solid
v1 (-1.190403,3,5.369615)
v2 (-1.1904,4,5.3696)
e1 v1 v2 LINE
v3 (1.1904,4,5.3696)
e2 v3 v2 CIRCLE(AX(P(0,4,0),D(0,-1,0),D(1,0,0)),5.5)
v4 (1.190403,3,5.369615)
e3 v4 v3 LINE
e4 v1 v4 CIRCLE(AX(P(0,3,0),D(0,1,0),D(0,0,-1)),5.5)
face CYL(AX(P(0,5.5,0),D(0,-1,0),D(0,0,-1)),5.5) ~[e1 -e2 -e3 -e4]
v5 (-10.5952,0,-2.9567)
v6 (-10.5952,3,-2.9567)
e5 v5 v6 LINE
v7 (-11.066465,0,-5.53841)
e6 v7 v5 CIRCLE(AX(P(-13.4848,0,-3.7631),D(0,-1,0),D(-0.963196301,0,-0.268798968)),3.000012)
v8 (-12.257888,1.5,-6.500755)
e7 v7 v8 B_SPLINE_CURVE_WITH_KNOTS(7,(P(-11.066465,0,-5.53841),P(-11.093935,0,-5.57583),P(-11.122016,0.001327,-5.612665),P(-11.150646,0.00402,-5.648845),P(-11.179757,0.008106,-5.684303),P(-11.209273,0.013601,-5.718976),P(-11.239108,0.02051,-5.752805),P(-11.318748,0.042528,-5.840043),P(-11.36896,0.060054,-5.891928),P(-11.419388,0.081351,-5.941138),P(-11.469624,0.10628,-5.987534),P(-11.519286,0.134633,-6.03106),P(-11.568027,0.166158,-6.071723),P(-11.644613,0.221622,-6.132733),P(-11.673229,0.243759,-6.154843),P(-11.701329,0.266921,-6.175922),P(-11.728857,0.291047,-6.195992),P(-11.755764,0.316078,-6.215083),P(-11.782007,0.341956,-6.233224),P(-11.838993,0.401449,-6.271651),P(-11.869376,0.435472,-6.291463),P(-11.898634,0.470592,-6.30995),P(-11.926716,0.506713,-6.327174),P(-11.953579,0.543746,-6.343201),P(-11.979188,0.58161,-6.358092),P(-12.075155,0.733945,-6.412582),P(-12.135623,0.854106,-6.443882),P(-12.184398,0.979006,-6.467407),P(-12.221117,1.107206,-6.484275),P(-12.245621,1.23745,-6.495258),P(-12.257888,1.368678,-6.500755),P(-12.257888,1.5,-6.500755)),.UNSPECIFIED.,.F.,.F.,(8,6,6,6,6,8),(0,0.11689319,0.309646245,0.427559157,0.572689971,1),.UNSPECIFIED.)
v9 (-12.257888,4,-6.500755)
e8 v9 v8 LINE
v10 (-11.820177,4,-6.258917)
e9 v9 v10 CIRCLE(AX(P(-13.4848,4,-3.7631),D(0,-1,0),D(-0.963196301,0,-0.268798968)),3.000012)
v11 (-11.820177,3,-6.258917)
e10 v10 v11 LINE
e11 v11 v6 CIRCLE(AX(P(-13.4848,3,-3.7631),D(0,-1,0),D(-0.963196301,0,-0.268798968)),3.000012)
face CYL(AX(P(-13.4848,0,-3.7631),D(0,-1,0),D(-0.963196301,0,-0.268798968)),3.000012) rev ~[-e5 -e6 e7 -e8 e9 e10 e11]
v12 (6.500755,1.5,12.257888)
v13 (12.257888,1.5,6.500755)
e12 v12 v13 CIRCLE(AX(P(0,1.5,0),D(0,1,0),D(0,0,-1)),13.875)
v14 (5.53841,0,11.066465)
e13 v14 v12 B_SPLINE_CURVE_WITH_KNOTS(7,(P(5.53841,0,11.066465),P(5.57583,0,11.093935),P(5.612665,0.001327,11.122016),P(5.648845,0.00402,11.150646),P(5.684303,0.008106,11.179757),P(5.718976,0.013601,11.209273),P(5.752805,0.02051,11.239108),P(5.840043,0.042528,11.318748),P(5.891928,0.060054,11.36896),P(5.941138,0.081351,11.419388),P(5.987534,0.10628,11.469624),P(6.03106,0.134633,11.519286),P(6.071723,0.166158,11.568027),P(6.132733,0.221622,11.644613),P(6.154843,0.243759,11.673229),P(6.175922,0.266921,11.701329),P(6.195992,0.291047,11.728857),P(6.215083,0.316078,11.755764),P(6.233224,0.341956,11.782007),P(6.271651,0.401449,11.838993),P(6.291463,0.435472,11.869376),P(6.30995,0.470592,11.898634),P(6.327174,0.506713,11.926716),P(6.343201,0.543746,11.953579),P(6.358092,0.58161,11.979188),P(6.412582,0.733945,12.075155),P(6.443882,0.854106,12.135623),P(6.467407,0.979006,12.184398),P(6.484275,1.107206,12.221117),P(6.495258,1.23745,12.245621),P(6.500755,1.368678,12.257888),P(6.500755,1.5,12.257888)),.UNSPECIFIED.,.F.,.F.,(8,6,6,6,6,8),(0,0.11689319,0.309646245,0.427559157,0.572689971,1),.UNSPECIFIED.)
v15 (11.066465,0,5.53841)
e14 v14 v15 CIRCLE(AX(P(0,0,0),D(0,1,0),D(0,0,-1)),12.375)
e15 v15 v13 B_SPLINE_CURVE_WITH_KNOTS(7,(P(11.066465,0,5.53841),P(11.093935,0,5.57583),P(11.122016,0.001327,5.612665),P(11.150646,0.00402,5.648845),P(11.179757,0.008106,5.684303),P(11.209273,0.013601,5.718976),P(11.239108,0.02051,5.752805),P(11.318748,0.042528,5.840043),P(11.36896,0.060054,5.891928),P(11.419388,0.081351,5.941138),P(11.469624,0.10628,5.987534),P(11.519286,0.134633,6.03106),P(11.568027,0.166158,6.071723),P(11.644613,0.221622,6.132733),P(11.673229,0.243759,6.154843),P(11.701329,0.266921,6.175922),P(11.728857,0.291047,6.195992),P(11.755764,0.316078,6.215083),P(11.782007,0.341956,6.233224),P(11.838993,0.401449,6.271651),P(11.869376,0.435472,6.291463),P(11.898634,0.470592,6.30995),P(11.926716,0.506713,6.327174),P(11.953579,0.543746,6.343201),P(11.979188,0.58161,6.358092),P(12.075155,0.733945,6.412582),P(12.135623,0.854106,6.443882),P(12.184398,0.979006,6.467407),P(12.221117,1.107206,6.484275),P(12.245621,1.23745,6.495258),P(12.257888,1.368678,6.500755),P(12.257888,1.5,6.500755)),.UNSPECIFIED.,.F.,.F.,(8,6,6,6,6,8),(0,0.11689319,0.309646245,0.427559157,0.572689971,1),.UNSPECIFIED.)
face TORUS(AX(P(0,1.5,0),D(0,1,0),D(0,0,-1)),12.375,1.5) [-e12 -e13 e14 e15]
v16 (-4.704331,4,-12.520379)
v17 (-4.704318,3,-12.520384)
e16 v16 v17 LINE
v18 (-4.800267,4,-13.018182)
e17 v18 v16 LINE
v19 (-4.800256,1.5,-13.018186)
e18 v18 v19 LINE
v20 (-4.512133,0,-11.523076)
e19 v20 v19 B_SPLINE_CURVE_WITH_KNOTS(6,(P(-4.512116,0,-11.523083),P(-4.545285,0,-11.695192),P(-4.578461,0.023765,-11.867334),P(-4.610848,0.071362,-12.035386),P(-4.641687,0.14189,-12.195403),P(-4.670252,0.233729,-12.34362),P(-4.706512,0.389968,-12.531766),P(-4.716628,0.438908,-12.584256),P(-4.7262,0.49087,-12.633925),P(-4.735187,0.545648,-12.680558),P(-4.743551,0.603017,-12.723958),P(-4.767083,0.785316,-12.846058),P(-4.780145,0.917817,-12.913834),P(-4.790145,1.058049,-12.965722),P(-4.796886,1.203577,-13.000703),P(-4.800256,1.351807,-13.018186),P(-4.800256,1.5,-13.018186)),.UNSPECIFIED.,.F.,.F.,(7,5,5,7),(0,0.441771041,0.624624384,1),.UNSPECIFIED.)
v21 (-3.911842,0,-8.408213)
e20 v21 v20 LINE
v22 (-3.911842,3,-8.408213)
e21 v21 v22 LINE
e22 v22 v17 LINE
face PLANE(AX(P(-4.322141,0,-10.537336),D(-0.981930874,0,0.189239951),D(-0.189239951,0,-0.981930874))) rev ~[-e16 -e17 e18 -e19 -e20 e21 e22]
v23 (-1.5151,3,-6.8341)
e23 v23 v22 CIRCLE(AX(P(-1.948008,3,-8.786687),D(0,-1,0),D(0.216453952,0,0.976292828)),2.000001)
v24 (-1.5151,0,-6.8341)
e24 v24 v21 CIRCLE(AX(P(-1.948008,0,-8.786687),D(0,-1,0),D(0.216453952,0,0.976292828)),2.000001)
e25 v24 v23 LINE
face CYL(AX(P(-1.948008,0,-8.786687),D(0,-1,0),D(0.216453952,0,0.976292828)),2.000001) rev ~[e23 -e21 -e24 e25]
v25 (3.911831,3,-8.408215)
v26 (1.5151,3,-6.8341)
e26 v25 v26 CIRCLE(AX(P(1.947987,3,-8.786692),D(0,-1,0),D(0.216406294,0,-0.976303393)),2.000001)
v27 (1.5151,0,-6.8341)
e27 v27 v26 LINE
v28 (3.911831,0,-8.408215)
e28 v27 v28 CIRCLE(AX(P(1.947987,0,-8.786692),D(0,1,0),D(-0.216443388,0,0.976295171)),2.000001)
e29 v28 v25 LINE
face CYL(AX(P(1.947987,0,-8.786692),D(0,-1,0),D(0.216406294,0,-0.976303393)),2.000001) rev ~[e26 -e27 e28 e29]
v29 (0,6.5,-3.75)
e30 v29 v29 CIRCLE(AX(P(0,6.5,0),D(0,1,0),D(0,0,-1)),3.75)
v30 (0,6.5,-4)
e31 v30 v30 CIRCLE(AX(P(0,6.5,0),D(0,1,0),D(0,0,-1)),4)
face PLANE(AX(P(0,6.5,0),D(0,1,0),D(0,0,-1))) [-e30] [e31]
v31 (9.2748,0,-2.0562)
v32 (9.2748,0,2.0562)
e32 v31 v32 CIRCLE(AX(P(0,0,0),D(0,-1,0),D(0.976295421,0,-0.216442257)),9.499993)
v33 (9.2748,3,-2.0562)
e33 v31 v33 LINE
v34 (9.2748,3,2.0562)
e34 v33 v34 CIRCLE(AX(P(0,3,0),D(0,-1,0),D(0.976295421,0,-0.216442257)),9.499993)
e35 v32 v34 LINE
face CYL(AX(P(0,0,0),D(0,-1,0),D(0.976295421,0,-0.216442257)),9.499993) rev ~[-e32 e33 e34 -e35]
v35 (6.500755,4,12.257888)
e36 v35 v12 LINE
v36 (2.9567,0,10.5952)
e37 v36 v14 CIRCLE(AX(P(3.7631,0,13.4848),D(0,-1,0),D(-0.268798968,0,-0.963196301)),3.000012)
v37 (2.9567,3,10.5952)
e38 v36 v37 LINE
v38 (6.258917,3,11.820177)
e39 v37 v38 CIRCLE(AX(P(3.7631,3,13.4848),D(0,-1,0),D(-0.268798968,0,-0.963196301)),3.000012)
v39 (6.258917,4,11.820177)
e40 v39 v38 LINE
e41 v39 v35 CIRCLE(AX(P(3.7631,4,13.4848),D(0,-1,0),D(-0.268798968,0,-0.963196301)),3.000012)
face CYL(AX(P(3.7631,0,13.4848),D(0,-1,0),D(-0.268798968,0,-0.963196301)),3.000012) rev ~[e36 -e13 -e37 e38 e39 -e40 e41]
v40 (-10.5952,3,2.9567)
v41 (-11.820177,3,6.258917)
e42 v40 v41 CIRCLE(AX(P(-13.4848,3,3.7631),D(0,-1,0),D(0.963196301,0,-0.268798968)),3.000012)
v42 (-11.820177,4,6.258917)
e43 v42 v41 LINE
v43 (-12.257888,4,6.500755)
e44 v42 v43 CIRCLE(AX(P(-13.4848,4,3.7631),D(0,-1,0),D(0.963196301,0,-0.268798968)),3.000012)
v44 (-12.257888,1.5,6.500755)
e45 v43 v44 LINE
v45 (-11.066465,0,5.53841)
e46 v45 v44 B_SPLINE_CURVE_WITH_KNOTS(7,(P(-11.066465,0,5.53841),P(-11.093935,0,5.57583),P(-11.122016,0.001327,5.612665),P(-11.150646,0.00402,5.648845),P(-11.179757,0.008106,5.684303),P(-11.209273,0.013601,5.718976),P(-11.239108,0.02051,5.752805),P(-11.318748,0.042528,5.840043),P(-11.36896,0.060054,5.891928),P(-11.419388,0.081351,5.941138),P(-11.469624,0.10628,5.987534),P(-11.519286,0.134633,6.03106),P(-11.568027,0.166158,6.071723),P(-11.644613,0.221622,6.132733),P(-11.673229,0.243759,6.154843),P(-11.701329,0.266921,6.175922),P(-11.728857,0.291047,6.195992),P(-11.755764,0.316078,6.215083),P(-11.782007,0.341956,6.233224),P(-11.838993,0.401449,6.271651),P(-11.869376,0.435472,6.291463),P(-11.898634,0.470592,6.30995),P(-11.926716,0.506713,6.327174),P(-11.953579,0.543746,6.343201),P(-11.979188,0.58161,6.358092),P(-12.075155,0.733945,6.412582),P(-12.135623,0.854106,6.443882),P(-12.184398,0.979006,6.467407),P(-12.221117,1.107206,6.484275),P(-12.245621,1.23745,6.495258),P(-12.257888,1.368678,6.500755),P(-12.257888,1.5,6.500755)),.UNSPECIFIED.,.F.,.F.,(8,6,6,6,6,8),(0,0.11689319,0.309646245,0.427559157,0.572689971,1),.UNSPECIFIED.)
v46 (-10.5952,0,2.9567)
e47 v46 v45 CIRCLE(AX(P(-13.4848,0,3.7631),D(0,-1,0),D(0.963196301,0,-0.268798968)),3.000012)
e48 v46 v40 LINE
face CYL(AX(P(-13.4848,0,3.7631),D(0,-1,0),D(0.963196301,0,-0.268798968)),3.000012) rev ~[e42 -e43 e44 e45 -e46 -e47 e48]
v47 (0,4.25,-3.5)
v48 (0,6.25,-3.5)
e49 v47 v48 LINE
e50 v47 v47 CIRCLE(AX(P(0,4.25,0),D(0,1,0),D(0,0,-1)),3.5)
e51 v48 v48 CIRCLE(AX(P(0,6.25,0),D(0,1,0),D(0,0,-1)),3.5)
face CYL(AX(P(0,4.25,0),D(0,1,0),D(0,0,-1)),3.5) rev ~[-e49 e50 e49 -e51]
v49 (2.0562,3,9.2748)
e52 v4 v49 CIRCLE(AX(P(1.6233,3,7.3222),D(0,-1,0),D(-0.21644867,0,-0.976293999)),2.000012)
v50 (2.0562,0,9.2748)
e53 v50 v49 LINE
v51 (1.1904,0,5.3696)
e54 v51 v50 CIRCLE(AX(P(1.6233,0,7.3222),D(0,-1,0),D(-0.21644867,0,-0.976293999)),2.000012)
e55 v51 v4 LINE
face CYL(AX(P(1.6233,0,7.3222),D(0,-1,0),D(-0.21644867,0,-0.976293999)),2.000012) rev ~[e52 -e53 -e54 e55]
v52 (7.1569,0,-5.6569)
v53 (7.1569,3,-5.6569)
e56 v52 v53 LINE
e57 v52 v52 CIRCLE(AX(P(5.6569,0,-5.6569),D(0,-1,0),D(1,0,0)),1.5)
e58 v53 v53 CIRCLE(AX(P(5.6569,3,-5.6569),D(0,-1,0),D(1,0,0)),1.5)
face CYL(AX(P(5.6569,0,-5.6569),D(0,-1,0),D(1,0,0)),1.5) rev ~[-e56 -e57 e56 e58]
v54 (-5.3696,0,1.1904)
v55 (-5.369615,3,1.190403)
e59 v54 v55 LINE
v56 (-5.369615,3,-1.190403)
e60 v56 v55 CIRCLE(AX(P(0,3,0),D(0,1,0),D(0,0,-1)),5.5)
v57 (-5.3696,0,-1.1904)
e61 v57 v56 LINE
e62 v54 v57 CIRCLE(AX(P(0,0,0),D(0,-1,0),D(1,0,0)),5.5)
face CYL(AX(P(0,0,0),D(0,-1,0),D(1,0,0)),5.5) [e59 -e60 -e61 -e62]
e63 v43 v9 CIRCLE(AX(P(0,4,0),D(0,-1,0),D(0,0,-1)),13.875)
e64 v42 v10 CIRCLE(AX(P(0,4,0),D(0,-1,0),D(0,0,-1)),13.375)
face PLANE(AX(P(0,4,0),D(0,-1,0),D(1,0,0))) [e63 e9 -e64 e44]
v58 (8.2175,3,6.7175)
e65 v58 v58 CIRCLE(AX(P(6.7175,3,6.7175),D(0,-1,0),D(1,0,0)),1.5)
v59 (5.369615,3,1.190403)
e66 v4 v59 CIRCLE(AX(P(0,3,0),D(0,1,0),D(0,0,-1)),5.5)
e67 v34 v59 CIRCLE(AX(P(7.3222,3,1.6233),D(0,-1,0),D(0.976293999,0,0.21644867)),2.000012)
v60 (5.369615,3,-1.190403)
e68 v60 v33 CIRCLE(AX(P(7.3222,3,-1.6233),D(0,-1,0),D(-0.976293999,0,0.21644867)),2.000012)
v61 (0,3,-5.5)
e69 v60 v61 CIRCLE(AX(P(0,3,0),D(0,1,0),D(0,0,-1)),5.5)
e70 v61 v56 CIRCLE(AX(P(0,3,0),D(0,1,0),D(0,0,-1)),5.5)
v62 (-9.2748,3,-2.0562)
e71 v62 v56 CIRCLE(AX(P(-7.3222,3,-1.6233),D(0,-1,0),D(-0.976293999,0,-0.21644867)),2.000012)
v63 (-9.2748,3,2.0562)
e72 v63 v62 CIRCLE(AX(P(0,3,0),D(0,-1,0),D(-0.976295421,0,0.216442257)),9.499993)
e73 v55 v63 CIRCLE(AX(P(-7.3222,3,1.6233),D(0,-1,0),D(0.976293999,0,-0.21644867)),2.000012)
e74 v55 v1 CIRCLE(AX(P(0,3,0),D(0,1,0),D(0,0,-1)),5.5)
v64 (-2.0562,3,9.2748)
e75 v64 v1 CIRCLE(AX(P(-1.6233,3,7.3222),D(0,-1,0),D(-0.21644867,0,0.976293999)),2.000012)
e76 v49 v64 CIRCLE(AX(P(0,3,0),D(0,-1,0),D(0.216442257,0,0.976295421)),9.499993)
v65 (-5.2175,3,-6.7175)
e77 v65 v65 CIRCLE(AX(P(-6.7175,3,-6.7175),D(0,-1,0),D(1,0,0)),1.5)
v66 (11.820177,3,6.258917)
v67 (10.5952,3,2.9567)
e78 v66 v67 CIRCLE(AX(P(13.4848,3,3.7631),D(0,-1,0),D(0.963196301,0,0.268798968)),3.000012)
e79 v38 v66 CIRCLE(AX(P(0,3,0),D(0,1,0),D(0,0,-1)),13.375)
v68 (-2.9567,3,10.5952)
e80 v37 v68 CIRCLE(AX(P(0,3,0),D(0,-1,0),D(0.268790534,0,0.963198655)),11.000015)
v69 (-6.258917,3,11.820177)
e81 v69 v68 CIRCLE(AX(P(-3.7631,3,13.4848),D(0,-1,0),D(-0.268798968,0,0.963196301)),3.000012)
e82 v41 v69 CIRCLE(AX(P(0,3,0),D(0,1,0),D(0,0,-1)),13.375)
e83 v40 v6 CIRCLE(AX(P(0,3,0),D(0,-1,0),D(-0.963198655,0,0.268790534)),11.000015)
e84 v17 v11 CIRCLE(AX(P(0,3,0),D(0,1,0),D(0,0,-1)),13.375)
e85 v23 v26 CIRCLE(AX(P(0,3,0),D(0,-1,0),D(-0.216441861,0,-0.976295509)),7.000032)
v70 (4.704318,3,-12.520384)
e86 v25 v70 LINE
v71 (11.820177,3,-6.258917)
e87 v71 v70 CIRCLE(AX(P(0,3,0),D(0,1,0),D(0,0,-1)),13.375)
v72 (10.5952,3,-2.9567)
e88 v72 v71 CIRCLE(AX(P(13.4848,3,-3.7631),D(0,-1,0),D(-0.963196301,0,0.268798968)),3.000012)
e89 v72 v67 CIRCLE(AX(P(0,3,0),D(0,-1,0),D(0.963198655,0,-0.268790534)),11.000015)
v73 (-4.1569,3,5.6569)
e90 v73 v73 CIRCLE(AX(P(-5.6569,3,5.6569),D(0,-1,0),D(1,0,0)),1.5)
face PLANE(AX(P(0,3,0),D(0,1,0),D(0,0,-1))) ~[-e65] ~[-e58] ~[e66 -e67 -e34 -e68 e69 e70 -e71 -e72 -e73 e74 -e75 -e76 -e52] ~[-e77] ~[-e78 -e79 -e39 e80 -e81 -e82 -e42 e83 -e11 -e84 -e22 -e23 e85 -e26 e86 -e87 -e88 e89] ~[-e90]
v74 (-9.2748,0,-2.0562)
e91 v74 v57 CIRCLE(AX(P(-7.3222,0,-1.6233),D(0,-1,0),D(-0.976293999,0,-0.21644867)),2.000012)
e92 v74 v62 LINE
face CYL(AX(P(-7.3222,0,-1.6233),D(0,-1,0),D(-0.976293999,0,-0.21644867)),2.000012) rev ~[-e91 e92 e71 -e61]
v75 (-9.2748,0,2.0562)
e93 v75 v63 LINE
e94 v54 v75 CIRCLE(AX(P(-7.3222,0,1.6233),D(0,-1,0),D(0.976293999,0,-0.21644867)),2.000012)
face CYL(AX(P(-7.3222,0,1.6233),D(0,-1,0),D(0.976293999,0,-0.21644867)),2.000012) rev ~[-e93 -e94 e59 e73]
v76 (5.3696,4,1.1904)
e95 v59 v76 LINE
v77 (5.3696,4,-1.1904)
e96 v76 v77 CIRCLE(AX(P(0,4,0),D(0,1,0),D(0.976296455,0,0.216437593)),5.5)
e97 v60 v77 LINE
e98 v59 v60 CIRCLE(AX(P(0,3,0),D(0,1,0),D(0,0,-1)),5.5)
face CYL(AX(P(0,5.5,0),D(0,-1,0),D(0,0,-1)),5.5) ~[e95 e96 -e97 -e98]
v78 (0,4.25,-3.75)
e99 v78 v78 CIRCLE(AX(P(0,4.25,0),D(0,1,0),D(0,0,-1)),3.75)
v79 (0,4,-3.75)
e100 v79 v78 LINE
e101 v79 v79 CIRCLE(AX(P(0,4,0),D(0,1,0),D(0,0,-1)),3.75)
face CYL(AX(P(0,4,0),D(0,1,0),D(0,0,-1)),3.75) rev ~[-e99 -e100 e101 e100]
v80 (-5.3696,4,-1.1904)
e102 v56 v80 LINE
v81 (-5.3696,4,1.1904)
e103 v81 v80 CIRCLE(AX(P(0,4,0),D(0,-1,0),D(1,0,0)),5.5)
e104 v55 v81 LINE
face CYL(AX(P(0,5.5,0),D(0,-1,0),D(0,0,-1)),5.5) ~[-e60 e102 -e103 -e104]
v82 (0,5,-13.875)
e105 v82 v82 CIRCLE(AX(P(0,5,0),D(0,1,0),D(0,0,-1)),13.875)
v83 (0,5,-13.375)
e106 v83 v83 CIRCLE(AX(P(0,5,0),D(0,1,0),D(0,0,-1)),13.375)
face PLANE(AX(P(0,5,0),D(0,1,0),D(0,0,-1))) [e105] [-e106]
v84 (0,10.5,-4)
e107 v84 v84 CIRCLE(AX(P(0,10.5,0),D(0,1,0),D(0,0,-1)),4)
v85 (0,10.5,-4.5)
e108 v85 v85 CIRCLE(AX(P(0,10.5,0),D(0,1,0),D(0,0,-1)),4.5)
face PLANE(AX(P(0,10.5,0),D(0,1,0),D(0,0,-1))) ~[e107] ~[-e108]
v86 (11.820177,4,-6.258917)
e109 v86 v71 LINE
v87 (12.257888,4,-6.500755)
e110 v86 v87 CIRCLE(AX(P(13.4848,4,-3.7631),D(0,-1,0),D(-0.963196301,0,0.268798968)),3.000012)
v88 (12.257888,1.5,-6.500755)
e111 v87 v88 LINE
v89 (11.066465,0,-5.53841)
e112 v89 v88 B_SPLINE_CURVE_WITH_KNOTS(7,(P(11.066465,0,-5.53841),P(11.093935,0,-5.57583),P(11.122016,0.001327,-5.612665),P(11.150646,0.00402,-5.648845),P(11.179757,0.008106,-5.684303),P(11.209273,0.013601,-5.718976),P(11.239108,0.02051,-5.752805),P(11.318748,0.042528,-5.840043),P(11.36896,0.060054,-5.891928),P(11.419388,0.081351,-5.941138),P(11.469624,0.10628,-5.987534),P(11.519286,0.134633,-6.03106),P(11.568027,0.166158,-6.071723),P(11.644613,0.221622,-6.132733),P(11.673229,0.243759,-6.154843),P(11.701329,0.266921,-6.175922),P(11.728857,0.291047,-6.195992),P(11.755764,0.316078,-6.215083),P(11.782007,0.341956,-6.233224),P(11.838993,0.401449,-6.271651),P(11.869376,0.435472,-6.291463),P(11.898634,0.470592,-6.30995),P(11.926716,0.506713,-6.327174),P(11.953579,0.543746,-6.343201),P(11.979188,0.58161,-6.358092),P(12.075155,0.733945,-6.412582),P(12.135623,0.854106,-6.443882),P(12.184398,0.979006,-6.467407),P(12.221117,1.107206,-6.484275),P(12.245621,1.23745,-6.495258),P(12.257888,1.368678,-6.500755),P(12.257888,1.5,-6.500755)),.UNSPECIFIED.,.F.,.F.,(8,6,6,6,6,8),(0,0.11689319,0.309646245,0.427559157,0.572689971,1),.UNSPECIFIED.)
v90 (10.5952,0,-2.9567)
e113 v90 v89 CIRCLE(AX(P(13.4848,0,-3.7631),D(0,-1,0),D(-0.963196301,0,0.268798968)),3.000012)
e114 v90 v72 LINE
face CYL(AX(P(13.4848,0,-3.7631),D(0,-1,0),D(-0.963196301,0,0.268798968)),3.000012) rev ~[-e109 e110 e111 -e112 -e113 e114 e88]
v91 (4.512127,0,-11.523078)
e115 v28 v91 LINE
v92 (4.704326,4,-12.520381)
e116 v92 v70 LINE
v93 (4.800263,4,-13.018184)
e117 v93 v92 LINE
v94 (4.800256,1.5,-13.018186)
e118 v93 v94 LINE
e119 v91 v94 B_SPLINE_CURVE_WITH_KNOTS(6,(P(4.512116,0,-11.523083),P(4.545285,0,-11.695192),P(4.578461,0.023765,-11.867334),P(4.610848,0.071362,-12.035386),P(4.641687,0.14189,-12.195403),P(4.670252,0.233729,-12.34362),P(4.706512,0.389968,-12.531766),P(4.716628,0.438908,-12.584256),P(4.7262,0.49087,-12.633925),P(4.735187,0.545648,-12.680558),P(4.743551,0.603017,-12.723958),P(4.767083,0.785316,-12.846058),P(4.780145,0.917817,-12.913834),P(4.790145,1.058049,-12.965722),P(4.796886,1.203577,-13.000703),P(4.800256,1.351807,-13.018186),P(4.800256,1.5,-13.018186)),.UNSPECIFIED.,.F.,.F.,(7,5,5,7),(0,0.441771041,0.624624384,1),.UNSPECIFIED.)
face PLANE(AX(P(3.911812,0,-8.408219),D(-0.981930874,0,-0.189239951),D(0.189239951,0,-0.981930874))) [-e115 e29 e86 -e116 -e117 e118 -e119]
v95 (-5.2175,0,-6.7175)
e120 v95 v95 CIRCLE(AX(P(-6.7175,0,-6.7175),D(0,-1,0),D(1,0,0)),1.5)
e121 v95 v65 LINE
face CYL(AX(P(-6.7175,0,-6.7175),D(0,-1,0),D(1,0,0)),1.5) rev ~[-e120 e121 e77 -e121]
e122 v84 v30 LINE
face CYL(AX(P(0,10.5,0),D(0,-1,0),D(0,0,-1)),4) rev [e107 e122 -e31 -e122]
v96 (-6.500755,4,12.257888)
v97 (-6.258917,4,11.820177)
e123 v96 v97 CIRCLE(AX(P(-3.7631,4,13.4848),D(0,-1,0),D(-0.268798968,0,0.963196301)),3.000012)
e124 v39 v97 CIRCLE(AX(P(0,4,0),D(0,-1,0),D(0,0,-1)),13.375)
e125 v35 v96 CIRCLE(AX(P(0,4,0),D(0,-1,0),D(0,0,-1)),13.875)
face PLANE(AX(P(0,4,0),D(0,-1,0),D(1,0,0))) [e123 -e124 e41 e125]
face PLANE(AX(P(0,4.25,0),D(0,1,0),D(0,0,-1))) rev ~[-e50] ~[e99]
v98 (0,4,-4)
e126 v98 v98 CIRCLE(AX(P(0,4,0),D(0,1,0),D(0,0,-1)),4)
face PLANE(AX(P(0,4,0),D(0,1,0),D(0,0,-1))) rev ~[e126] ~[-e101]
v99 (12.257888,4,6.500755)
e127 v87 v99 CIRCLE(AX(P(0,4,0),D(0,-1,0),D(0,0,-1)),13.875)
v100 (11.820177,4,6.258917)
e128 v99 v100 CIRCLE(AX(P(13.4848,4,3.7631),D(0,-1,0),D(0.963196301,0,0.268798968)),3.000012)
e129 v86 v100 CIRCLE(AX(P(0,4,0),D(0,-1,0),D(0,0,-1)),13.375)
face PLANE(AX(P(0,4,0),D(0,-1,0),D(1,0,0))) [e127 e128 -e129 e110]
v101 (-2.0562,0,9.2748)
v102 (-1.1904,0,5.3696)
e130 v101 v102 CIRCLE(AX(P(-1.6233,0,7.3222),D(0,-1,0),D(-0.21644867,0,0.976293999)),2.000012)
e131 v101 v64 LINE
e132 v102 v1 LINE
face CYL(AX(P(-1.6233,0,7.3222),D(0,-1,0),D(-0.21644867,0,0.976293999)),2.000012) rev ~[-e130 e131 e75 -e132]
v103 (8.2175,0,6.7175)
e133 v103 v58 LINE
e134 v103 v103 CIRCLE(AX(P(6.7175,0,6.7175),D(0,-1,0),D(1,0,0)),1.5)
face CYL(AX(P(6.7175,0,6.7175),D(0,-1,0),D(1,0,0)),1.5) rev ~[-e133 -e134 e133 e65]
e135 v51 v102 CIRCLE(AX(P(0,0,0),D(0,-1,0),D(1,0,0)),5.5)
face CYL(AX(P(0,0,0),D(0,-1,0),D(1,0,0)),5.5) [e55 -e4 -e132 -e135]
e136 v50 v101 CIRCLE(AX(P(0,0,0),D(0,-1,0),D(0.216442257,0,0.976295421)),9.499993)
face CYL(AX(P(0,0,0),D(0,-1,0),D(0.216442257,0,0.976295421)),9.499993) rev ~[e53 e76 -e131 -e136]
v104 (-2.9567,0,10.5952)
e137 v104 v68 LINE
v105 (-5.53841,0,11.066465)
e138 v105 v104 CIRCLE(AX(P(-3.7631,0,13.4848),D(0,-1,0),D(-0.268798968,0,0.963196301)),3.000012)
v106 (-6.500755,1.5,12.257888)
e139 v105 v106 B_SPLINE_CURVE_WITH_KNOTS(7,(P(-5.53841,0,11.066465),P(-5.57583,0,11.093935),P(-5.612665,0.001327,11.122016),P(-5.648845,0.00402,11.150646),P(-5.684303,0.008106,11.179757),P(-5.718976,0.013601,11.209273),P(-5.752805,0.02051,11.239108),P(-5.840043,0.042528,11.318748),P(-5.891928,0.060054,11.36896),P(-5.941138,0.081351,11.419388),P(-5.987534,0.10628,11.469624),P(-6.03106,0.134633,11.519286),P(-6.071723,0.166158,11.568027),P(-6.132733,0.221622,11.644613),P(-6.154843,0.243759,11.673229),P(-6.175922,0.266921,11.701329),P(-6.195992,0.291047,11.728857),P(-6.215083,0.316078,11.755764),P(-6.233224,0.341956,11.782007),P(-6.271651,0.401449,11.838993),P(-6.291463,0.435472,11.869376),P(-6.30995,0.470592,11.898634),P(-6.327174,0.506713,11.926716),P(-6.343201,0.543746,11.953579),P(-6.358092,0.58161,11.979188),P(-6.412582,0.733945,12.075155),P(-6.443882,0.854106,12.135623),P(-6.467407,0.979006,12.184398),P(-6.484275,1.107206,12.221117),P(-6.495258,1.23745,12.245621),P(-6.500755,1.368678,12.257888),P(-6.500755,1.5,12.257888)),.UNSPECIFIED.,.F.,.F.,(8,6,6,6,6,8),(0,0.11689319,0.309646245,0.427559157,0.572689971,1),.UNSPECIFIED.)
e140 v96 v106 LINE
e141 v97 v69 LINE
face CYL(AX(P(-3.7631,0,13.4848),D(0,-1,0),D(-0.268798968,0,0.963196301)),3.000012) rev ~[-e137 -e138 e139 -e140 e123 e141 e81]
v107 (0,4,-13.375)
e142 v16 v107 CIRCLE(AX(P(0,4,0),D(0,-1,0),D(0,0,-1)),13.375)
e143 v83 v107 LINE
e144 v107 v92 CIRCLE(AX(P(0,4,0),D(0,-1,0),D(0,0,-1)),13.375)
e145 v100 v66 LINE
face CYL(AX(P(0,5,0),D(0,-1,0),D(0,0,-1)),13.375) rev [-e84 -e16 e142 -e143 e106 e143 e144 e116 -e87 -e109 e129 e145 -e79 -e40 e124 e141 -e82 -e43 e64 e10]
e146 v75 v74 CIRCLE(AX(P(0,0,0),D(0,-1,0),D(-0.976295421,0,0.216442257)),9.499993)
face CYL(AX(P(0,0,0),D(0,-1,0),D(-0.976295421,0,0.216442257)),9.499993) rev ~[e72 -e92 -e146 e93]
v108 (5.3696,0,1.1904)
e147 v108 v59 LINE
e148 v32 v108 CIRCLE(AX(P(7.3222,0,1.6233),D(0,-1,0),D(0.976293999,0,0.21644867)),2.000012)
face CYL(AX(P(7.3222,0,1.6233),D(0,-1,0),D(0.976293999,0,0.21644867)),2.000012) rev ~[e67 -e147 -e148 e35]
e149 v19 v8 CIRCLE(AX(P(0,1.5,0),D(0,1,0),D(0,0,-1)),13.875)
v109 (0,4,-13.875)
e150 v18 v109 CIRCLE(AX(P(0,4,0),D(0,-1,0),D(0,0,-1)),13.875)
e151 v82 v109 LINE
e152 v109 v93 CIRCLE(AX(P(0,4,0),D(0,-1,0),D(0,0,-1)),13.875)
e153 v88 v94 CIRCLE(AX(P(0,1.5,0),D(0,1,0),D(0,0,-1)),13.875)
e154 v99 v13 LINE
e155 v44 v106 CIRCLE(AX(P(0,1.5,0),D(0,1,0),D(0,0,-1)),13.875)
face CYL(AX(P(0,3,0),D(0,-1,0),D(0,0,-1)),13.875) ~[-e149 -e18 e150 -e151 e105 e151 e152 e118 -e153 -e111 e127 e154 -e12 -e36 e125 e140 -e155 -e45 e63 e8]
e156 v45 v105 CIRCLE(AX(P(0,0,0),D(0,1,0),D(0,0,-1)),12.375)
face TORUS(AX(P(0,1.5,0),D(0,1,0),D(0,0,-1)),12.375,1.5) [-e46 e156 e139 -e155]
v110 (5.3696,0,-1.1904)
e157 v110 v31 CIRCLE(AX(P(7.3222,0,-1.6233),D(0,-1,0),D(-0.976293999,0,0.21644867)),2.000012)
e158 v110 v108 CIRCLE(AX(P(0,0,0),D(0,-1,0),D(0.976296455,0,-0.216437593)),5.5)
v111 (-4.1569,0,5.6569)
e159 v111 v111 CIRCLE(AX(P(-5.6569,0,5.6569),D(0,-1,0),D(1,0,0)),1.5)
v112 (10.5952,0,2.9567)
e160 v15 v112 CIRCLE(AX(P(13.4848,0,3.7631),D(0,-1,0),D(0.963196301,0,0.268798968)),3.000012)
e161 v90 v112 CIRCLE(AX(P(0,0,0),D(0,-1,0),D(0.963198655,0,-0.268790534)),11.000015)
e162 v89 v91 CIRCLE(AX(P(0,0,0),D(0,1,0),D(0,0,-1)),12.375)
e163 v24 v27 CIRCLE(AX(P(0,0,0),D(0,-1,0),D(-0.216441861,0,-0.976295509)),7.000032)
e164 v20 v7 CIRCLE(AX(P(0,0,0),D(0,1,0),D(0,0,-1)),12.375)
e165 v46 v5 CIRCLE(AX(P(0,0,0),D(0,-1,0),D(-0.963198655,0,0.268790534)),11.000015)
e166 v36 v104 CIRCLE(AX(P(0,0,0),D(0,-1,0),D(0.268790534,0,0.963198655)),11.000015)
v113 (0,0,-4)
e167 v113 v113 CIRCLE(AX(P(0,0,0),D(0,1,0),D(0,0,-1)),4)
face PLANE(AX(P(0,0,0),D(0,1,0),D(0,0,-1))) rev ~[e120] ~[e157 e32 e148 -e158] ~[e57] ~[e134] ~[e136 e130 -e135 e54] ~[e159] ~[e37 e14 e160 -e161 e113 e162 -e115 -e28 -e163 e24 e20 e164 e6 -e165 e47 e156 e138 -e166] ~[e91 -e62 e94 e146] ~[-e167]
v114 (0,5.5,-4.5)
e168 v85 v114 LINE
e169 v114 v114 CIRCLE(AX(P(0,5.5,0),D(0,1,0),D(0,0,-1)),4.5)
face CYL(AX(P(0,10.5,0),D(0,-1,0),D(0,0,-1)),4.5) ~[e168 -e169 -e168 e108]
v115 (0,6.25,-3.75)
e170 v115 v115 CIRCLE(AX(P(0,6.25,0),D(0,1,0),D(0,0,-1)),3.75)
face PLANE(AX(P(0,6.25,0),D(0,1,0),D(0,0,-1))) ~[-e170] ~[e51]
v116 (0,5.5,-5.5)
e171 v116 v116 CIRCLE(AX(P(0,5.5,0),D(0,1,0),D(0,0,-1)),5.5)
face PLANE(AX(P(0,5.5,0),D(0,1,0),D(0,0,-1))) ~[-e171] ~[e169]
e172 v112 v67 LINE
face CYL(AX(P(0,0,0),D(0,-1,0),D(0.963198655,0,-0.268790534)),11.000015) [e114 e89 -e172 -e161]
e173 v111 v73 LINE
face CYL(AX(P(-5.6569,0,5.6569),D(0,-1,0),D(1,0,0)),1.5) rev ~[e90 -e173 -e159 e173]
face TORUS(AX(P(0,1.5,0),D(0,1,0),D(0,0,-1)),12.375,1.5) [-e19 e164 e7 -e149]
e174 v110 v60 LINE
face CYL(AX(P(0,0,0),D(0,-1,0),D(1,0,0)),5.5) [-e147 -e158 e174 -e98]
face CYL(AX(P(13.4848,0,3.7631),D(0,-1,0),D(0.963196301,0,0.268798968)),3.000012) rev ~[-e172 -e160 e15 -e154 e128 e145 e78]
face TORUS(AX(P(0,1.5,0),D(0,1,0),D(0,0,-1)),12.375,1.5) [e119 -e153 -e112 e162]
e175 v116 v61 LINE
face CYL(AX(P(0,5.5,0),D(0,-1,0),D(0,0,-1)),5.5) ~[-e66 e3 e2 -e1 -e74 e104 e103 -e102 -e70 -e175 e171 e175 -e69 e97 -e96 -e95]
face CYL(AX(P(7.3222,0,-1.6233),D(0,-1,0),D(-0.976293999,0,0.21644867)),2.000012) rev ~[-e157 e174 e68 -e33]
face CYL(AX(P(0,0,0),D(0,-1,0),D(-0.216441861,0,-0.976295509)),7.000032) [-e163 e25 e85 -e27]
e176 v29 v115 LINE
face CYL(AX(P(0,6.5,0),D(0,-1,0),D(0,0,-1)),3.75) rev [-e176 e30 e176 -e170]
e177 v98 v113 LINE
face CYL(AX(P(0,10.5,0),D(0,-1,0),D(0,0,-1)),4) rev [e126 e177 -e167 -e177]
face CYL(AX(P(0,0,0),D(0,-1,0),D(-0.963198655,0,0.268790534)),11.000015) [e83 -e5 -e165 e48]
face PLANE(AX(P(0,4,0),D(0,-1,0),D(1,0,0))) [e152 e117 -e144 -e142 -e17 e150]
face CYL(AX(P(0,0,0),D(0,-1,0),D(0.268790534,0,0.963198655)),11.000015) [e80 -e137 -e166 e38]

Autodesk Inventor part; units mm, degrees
ref_plane "YZ Plane" through (0, 0, 0) normal (1, 0, 0) x (0, 1, 0)
ref_plane "XZ Plane" through (0, 0, 0) normal (0, 1, 0) x (-1, 0, 0)
ref_plane "XY Plane" through (0, 0, 0) normal (0, 0, 1) x (1, 0, 0)
sketch "Sketch1" plane through (0, 0, 0) normal (1, 0, 0) x (0, 1, 0)
  line L0 (0, 0) -> (10.5, 0)
  line L1 (10.5, 0) -> (10.5, -4)
  line L2 (10.5, -4) -> (0, -4)
  line L3 (0, -4) -> (0, 0)
  line L4 (0, -4) -> (10.5, -4)
  line L5 (10.5, -4) -> (10.5, -4.5)
  line L6 (10.5, -4.5) -> (0, -4.5)
  line L7 (0, -4.5) -> (0, -4)
  line L8 (0, -4.5) -> (5.5, -4.5)
  line L9 (5.5, -4.5) -> (5.5, -5.5)
  line L10 (5.5, -5.5) -> (0, -5.5)
  line L11 (0, -5.5) -> (0, -4.5)
  line L12 (0, -5.5) -> (3, -5.5)
  line L13 (3, -5.5) -> (3, -13.875)
  line L14 (3, -13.875) -> (0, -13.875)
  line L15 (0, -13.875) -> (0, -5.5)
  line L16 (3, -13.875) -> (5, -13.875)
  line L17 (5, -13.875) -> (5, -13.375)
  line L18 (5, -13.375) -> (3, -13.375)
  line L19 (3, -13.375) -> (3, -13.875)
  line L20 (6.25, -4) -> (4.25, -4)
  line L21 (4.25, -4) -> (4.25, -3.5)
  line L22 (4.25, -3.5) -> (6.25, -3.5)
  line L23 (6.25, -3.5) -> (6.25, -4)
  line L24 (6.25, -4) -> (6.5, -4)
  line L25 (6.5, -4) -> (6.5, -3.75)
  line L26 (6.5, -3.75) -> (6.25, -3.75)
  line L27 (6.25, -3.75) -> (6.25, -4)
  line L28 (4.25, -4) -> (4, -4)
  line L29 (4, -4) -> (4, -3.75)
  line L30 (4, -3.75) -> (4.25, -3.75)
  line L31 (4.25, -3.75) -> (4.25, -4)
  dimension "d0" = 10.5
  dimension "d1" = 4
  dimension "d2" = 0.5
  dimension "d3" = 5.5
  dimension "d4" = 5.5
  dimension "d5" = 3
  dimension "d6" = 13.875
  dimension "d7" = 2
  dimension "d8" = 0.5
  dimension "d48" = 3.5
  dimension "d49" = 4.25
  dimension "d50" = 4.25
  dimension "d51" = 0.25
  dimension "d52" = 0.25
  dimension "d53" = 0.25
  dimension "d54" = 0.25
revolve "Revolution1" add sketch "Sketch1" angle 360 about axis through (0, 0, 0) along (0, 1, 0) contours L2 L5 L6 L7 | L29 L30 L21 L2 | L6 L9 L10 L11 | L2 L23 L26 L25 | L21 L22 L23 L2 | L10 L13 L14 L15 | L18 L17 L16 L13
fillet "Fillet1" radius 1.5 1 edges at (0, 0, 13.875)
sketch "Sketch2" plane through (0, 0, 0) normal (0, -1, 0) x (1, 0, 0)
  circle A0 centre (0, 0) radius 5.5 construction
  line L0 (0, 0) -> (0, -5.5) construction
  circle A1 centre (0, 0) radius 5.5 projected
  line L1 (0, 0) -> (-8.7504, -8.7504) construction
  circle A2 centre (0, 0) radius 12.375 construction
  circle A3 centre (0, 0) radius 8 construction
  circle A4 centre (0, 0) radius 9.5 construction
  circle A5 centre (-6.7175, -6.7175) radius 1.5
  line L2 (0, 0) -> (-5.6569, 5.6569) construction
  circle A6 centre (-5.6569, 5.6569) radius 1.5
  circle A7 centre (5.6569, -5.6569) radius 1.5
  circle A8 centre (6.7175, 6.7175) radius 1.5
  arc A9 (1.6233, 7.3222) -> (-1.6233, 7.3222) centre (0, 0) ccw construction
  arc A10 (2.0562, 9.2748) -> (-2.0562, 9.2748) centre (0, 0) ccw
  arc A11 (1.1904, 5.3696) -> (-1.1904, 5.3696) centre (0, 0) ccw
  arc A12 (1.1904, 5.3696) -> (2.0562, 9.2748) centre (1.6233, 7.3222) ccw
  arc A13 (-2.0562, 9.2748) -> (-1.1904, 5.3696) centre (-1.6233, 7.3222) ccw
  line L3 (-1.6233, 7.3222) -> (0, 0) construction
  line L4 (0, 0) -> (0, 7.5) construction
  line L5 (1.6233, 7.3222) -> (0, 0) construction
  arc A14 (-5.3696, 1.1904) -> (-9.2748, 2.0562) centre (-7.3222, 1.6233) ccw
  arc A15 (-7.3222, 1.6233) -> (-7.3222, -1.6233) centre (0, 0) ccw construction
  arc A16 (-9.2748, 2.0562) -> (-9.2748, -2.0562) centre (0, 0) ccw
  arc A17 (-9.2748, -2.0562) -> (-5.3696, -1.1904) centre (-7.3222, -1.6233) ccw
  arc A18 (-5.3696, 1.1904) -> (-5.3696, -1.1904) centre (0, 0) ccw
  arc A19 (-1.1904, -5.3696) -> (-2.0562, -9.2748) centre (-1.6233, -7.3222) ccw
  arc A20 (-1.6233, -7.3222) -> (1.6233, -7.3222) centre (0, 0) ccw construction
  arc A21 (-2.0562, -9.2748) -> (2.0562, -9.2748) centre (0, 0) ccw
  arc A22 (2.0562, -9.2748) -> (1.1904, -5.3696) centre (1.6233, -7.3222) ccw
  arc A23 (-1.1904, -5.3696) -> (1.1904, -5.3696) centre (0, 0) ccw
  arc A24 (5.3696, -1.1904) -> (9.2748, -2.0562) centre (7.3222, -1.6233) ccw
  arc A25 (7.3222, -1.6233) -> (7.3222, 1.6233) centre (0, 0) ccw construction
  arc A26 (9.2748, -2.0562) -> (9.2748, 2.0562) centre (0, 0) ccw
  arc A27 (9.2748, 2.0562) -> (5.3696, 1.1904) centre (7.3222, 1.6233) ccw
  arc A28 (5.3696, -1.1904) -> (5.3696, 1.1904) centre (0, 0) ccw
  arc A29 (3.7631, 13.4848) -> (-3.7631, 13.4848) centre (0, 0) ccw construction
  arc A30 (4.5695, 16.3744) -> (-4.5695, 16.3744) centre (0, 0) ccw
  arc A31 (2.9567, 10.5952) -> (-2.9567, 10.5952) centre (0, 0) ccw
  arc A32 (2.9567, 10.5952) -> (4.5695, 16.3744) centre (3.7631, 13.4848) ccw
  arc A33 (-4.5695, 16.3744) -> (-2.9567, 10.5952) centre (-3.7631, 13.4848) ccw
  line L6 (0, 0) -> (6.4128, 12.0779) construction
  arc A34 (10.5952, -2.9567) -> (10.5952, 2.9567) centre (0, 0) ccw
  arc A35 (16.3744, 4.5695) -> (10.5952, 2.9567) centre (13.4848, 3.7631) ccw
  arc A36 (10.5952, -2.9567) -> (16.3744, -4.5695) centre (13.4848, -3.7631) ccw
  arc A37 (16.3744, -4.5695) -> (16.3744, 4.5695) centre (0, 0) ccw
  arc A38 (13.4848, -3.7631) -> (13.4848, 3.7631) centre (0, 0) ccw construction
  arc A39 (-2.9567, -10.5952) -> (2.9567, -10.5952) centre (0, 0) ccw
  arc A40 (4.5695, -16.3744) -> (2.9567, -10.5952) centre (3.7631, -13.4848) ccw
  arc A41 (-2.9567, -10.5952) -> (-4.5695, -16.3744) centre (-3.7631, -13.4848) ccw
  arc A42 (-4.5695, -16.3744) -> (4.5695, -16.3744) centre (0, 0) ccw
  arc A43 (-3.7631, -13.4848) -> (3.7631, -13.4848) centre (0, 0) ccw construction
  arc A44 (-10.5952, 2.9567) -> (-10.5952, -2.9567) centre (0, 0) ccw
  arc A45 (-16.3744, -4.5695) -> (-10.5952, -2.9567) centre (-13.4848, -3.7631) ccw
  arc A46 (-10.5952, 2.9567) -> (-16.3744, 4.5695) centre (-13.4848, 3.7631) ccw
  arc A47 (-16.3744, 4.5695) -> (-16.3744, -4.5695) centre (0, 0) ccw
  arc A48 (-13.4848, 3.7631) -> (-13.4848, -3.7631) centre (0, 0) ccw construction
  circle A49 centre (0, 0) radius 2.25 construction
  arc A50 (-1.948, -8.7867) -> (1.948, -8.7867) centre (0, 0) ccw construction
  arc A51 (-2.3808, -10.7393) -> (2.3808, -10.7393) centre (0, 0) ccw
  arc A52 (-1.5151, -6.8341) -> (1.5151, -6.8341) centre (0, 0) ccw
  arc A53 (-1.5151, -6.8341) -> (-2.3808, -10.7393) centre (-1.948, -8.7867) ccw
  arc A54 (2.3808, -10.7393) -> (1.5151, -6.8341) centre (1.948, -8.7867) ccw
  line L7 (2.2093, 0.4258) -> (5.3775, -16.0134)
  line L8 (-2.2093, 0.4258) -> (-5.3775, -16.0134)
  point P0 (-7.5, 0)
  point P1 (0, -7.5)
  point P2 (7.5, 0)
  point P3 (12.0779, -6.4128)
  point P4 (-6.4128, -12.0779)
  point P5 (-12.0779, 6.4128)
  point P6 (5.3696, 1.1904)
  point P7 (1.1904, 5.3696)
  point P8 (-1.1904, 5.3696)
  point P9 (-5.3696, 1.1904)
  point P10 (-5.3696, -1.1904)
  point P11 (-1.1904, -5.3696)
  point P12 (1.1904, -5.3696)
  point P13 (5.3696, -1.1904)
  point P14 (5.2926, -16.0656)
  point P15 (2.2117, 0.4135)
  point P16 (-2.2117, 0.4135)
  point P17 (4.5121, -11.5231)
  point P18 (-4.5121, -11.5231)
  point P19 (3.9118, -8.4082)
  point P20 (-3.9118, -8.4082)
  dimension "d11" = 11
  dimension "d13" = 16
  dimension "d14" = 19
  dimension "d12" = 45
  dimension "d15" = 3
  dimension "d16" = 3
  dimension "d19" = 360
  dimension "d21" = 4
  dimension "d24" = 25
  dimension "d27" = 360
  dimension "d29" = 11
  dimension "d30" = 3
  dimension "d33" = 360
  dimension "d37" = 4.5
  dimension "d38" = 4
  dimension "d39" = 7
extrude "Extrusion1" cut sketch "Sketch2" against normal blind 4 contours A1 A27 A26 A24 | A1 A13 A10 A12 | L7 A40 A39 A54 | A54 A39 A53 A19 A21 A22 | A1 A17 A16 A14 | A22 A21 A19 A53 A52 A54 | A39 A40 L7 A42 A41 L8 | A39 A41 L8 A53 | A5 | A6 | A7 | A8 | A32 A31 A33 A30 | A34 A35 A37 A36 | A44 A45 A47 A46
thread "Thread1" size "M3x0.5" class "6H" standard "ANSI Metric M Profile" length 3
thread "Thread2" size "M3x0.5" class "6H" standard "ANSI Metric M Profile" length 5.0038
thread "Thread3" size "M3x0.5" class "6H" standard "ANSI Metric M Profile" length 5.0038
thread "Thread4" size "M3x0.5" class "6H" standard "ANSI Metric M Profile" length 5.0038
equation "\"d49\" = d50"
properties part number "BASE" material "Aluminum 6061"
